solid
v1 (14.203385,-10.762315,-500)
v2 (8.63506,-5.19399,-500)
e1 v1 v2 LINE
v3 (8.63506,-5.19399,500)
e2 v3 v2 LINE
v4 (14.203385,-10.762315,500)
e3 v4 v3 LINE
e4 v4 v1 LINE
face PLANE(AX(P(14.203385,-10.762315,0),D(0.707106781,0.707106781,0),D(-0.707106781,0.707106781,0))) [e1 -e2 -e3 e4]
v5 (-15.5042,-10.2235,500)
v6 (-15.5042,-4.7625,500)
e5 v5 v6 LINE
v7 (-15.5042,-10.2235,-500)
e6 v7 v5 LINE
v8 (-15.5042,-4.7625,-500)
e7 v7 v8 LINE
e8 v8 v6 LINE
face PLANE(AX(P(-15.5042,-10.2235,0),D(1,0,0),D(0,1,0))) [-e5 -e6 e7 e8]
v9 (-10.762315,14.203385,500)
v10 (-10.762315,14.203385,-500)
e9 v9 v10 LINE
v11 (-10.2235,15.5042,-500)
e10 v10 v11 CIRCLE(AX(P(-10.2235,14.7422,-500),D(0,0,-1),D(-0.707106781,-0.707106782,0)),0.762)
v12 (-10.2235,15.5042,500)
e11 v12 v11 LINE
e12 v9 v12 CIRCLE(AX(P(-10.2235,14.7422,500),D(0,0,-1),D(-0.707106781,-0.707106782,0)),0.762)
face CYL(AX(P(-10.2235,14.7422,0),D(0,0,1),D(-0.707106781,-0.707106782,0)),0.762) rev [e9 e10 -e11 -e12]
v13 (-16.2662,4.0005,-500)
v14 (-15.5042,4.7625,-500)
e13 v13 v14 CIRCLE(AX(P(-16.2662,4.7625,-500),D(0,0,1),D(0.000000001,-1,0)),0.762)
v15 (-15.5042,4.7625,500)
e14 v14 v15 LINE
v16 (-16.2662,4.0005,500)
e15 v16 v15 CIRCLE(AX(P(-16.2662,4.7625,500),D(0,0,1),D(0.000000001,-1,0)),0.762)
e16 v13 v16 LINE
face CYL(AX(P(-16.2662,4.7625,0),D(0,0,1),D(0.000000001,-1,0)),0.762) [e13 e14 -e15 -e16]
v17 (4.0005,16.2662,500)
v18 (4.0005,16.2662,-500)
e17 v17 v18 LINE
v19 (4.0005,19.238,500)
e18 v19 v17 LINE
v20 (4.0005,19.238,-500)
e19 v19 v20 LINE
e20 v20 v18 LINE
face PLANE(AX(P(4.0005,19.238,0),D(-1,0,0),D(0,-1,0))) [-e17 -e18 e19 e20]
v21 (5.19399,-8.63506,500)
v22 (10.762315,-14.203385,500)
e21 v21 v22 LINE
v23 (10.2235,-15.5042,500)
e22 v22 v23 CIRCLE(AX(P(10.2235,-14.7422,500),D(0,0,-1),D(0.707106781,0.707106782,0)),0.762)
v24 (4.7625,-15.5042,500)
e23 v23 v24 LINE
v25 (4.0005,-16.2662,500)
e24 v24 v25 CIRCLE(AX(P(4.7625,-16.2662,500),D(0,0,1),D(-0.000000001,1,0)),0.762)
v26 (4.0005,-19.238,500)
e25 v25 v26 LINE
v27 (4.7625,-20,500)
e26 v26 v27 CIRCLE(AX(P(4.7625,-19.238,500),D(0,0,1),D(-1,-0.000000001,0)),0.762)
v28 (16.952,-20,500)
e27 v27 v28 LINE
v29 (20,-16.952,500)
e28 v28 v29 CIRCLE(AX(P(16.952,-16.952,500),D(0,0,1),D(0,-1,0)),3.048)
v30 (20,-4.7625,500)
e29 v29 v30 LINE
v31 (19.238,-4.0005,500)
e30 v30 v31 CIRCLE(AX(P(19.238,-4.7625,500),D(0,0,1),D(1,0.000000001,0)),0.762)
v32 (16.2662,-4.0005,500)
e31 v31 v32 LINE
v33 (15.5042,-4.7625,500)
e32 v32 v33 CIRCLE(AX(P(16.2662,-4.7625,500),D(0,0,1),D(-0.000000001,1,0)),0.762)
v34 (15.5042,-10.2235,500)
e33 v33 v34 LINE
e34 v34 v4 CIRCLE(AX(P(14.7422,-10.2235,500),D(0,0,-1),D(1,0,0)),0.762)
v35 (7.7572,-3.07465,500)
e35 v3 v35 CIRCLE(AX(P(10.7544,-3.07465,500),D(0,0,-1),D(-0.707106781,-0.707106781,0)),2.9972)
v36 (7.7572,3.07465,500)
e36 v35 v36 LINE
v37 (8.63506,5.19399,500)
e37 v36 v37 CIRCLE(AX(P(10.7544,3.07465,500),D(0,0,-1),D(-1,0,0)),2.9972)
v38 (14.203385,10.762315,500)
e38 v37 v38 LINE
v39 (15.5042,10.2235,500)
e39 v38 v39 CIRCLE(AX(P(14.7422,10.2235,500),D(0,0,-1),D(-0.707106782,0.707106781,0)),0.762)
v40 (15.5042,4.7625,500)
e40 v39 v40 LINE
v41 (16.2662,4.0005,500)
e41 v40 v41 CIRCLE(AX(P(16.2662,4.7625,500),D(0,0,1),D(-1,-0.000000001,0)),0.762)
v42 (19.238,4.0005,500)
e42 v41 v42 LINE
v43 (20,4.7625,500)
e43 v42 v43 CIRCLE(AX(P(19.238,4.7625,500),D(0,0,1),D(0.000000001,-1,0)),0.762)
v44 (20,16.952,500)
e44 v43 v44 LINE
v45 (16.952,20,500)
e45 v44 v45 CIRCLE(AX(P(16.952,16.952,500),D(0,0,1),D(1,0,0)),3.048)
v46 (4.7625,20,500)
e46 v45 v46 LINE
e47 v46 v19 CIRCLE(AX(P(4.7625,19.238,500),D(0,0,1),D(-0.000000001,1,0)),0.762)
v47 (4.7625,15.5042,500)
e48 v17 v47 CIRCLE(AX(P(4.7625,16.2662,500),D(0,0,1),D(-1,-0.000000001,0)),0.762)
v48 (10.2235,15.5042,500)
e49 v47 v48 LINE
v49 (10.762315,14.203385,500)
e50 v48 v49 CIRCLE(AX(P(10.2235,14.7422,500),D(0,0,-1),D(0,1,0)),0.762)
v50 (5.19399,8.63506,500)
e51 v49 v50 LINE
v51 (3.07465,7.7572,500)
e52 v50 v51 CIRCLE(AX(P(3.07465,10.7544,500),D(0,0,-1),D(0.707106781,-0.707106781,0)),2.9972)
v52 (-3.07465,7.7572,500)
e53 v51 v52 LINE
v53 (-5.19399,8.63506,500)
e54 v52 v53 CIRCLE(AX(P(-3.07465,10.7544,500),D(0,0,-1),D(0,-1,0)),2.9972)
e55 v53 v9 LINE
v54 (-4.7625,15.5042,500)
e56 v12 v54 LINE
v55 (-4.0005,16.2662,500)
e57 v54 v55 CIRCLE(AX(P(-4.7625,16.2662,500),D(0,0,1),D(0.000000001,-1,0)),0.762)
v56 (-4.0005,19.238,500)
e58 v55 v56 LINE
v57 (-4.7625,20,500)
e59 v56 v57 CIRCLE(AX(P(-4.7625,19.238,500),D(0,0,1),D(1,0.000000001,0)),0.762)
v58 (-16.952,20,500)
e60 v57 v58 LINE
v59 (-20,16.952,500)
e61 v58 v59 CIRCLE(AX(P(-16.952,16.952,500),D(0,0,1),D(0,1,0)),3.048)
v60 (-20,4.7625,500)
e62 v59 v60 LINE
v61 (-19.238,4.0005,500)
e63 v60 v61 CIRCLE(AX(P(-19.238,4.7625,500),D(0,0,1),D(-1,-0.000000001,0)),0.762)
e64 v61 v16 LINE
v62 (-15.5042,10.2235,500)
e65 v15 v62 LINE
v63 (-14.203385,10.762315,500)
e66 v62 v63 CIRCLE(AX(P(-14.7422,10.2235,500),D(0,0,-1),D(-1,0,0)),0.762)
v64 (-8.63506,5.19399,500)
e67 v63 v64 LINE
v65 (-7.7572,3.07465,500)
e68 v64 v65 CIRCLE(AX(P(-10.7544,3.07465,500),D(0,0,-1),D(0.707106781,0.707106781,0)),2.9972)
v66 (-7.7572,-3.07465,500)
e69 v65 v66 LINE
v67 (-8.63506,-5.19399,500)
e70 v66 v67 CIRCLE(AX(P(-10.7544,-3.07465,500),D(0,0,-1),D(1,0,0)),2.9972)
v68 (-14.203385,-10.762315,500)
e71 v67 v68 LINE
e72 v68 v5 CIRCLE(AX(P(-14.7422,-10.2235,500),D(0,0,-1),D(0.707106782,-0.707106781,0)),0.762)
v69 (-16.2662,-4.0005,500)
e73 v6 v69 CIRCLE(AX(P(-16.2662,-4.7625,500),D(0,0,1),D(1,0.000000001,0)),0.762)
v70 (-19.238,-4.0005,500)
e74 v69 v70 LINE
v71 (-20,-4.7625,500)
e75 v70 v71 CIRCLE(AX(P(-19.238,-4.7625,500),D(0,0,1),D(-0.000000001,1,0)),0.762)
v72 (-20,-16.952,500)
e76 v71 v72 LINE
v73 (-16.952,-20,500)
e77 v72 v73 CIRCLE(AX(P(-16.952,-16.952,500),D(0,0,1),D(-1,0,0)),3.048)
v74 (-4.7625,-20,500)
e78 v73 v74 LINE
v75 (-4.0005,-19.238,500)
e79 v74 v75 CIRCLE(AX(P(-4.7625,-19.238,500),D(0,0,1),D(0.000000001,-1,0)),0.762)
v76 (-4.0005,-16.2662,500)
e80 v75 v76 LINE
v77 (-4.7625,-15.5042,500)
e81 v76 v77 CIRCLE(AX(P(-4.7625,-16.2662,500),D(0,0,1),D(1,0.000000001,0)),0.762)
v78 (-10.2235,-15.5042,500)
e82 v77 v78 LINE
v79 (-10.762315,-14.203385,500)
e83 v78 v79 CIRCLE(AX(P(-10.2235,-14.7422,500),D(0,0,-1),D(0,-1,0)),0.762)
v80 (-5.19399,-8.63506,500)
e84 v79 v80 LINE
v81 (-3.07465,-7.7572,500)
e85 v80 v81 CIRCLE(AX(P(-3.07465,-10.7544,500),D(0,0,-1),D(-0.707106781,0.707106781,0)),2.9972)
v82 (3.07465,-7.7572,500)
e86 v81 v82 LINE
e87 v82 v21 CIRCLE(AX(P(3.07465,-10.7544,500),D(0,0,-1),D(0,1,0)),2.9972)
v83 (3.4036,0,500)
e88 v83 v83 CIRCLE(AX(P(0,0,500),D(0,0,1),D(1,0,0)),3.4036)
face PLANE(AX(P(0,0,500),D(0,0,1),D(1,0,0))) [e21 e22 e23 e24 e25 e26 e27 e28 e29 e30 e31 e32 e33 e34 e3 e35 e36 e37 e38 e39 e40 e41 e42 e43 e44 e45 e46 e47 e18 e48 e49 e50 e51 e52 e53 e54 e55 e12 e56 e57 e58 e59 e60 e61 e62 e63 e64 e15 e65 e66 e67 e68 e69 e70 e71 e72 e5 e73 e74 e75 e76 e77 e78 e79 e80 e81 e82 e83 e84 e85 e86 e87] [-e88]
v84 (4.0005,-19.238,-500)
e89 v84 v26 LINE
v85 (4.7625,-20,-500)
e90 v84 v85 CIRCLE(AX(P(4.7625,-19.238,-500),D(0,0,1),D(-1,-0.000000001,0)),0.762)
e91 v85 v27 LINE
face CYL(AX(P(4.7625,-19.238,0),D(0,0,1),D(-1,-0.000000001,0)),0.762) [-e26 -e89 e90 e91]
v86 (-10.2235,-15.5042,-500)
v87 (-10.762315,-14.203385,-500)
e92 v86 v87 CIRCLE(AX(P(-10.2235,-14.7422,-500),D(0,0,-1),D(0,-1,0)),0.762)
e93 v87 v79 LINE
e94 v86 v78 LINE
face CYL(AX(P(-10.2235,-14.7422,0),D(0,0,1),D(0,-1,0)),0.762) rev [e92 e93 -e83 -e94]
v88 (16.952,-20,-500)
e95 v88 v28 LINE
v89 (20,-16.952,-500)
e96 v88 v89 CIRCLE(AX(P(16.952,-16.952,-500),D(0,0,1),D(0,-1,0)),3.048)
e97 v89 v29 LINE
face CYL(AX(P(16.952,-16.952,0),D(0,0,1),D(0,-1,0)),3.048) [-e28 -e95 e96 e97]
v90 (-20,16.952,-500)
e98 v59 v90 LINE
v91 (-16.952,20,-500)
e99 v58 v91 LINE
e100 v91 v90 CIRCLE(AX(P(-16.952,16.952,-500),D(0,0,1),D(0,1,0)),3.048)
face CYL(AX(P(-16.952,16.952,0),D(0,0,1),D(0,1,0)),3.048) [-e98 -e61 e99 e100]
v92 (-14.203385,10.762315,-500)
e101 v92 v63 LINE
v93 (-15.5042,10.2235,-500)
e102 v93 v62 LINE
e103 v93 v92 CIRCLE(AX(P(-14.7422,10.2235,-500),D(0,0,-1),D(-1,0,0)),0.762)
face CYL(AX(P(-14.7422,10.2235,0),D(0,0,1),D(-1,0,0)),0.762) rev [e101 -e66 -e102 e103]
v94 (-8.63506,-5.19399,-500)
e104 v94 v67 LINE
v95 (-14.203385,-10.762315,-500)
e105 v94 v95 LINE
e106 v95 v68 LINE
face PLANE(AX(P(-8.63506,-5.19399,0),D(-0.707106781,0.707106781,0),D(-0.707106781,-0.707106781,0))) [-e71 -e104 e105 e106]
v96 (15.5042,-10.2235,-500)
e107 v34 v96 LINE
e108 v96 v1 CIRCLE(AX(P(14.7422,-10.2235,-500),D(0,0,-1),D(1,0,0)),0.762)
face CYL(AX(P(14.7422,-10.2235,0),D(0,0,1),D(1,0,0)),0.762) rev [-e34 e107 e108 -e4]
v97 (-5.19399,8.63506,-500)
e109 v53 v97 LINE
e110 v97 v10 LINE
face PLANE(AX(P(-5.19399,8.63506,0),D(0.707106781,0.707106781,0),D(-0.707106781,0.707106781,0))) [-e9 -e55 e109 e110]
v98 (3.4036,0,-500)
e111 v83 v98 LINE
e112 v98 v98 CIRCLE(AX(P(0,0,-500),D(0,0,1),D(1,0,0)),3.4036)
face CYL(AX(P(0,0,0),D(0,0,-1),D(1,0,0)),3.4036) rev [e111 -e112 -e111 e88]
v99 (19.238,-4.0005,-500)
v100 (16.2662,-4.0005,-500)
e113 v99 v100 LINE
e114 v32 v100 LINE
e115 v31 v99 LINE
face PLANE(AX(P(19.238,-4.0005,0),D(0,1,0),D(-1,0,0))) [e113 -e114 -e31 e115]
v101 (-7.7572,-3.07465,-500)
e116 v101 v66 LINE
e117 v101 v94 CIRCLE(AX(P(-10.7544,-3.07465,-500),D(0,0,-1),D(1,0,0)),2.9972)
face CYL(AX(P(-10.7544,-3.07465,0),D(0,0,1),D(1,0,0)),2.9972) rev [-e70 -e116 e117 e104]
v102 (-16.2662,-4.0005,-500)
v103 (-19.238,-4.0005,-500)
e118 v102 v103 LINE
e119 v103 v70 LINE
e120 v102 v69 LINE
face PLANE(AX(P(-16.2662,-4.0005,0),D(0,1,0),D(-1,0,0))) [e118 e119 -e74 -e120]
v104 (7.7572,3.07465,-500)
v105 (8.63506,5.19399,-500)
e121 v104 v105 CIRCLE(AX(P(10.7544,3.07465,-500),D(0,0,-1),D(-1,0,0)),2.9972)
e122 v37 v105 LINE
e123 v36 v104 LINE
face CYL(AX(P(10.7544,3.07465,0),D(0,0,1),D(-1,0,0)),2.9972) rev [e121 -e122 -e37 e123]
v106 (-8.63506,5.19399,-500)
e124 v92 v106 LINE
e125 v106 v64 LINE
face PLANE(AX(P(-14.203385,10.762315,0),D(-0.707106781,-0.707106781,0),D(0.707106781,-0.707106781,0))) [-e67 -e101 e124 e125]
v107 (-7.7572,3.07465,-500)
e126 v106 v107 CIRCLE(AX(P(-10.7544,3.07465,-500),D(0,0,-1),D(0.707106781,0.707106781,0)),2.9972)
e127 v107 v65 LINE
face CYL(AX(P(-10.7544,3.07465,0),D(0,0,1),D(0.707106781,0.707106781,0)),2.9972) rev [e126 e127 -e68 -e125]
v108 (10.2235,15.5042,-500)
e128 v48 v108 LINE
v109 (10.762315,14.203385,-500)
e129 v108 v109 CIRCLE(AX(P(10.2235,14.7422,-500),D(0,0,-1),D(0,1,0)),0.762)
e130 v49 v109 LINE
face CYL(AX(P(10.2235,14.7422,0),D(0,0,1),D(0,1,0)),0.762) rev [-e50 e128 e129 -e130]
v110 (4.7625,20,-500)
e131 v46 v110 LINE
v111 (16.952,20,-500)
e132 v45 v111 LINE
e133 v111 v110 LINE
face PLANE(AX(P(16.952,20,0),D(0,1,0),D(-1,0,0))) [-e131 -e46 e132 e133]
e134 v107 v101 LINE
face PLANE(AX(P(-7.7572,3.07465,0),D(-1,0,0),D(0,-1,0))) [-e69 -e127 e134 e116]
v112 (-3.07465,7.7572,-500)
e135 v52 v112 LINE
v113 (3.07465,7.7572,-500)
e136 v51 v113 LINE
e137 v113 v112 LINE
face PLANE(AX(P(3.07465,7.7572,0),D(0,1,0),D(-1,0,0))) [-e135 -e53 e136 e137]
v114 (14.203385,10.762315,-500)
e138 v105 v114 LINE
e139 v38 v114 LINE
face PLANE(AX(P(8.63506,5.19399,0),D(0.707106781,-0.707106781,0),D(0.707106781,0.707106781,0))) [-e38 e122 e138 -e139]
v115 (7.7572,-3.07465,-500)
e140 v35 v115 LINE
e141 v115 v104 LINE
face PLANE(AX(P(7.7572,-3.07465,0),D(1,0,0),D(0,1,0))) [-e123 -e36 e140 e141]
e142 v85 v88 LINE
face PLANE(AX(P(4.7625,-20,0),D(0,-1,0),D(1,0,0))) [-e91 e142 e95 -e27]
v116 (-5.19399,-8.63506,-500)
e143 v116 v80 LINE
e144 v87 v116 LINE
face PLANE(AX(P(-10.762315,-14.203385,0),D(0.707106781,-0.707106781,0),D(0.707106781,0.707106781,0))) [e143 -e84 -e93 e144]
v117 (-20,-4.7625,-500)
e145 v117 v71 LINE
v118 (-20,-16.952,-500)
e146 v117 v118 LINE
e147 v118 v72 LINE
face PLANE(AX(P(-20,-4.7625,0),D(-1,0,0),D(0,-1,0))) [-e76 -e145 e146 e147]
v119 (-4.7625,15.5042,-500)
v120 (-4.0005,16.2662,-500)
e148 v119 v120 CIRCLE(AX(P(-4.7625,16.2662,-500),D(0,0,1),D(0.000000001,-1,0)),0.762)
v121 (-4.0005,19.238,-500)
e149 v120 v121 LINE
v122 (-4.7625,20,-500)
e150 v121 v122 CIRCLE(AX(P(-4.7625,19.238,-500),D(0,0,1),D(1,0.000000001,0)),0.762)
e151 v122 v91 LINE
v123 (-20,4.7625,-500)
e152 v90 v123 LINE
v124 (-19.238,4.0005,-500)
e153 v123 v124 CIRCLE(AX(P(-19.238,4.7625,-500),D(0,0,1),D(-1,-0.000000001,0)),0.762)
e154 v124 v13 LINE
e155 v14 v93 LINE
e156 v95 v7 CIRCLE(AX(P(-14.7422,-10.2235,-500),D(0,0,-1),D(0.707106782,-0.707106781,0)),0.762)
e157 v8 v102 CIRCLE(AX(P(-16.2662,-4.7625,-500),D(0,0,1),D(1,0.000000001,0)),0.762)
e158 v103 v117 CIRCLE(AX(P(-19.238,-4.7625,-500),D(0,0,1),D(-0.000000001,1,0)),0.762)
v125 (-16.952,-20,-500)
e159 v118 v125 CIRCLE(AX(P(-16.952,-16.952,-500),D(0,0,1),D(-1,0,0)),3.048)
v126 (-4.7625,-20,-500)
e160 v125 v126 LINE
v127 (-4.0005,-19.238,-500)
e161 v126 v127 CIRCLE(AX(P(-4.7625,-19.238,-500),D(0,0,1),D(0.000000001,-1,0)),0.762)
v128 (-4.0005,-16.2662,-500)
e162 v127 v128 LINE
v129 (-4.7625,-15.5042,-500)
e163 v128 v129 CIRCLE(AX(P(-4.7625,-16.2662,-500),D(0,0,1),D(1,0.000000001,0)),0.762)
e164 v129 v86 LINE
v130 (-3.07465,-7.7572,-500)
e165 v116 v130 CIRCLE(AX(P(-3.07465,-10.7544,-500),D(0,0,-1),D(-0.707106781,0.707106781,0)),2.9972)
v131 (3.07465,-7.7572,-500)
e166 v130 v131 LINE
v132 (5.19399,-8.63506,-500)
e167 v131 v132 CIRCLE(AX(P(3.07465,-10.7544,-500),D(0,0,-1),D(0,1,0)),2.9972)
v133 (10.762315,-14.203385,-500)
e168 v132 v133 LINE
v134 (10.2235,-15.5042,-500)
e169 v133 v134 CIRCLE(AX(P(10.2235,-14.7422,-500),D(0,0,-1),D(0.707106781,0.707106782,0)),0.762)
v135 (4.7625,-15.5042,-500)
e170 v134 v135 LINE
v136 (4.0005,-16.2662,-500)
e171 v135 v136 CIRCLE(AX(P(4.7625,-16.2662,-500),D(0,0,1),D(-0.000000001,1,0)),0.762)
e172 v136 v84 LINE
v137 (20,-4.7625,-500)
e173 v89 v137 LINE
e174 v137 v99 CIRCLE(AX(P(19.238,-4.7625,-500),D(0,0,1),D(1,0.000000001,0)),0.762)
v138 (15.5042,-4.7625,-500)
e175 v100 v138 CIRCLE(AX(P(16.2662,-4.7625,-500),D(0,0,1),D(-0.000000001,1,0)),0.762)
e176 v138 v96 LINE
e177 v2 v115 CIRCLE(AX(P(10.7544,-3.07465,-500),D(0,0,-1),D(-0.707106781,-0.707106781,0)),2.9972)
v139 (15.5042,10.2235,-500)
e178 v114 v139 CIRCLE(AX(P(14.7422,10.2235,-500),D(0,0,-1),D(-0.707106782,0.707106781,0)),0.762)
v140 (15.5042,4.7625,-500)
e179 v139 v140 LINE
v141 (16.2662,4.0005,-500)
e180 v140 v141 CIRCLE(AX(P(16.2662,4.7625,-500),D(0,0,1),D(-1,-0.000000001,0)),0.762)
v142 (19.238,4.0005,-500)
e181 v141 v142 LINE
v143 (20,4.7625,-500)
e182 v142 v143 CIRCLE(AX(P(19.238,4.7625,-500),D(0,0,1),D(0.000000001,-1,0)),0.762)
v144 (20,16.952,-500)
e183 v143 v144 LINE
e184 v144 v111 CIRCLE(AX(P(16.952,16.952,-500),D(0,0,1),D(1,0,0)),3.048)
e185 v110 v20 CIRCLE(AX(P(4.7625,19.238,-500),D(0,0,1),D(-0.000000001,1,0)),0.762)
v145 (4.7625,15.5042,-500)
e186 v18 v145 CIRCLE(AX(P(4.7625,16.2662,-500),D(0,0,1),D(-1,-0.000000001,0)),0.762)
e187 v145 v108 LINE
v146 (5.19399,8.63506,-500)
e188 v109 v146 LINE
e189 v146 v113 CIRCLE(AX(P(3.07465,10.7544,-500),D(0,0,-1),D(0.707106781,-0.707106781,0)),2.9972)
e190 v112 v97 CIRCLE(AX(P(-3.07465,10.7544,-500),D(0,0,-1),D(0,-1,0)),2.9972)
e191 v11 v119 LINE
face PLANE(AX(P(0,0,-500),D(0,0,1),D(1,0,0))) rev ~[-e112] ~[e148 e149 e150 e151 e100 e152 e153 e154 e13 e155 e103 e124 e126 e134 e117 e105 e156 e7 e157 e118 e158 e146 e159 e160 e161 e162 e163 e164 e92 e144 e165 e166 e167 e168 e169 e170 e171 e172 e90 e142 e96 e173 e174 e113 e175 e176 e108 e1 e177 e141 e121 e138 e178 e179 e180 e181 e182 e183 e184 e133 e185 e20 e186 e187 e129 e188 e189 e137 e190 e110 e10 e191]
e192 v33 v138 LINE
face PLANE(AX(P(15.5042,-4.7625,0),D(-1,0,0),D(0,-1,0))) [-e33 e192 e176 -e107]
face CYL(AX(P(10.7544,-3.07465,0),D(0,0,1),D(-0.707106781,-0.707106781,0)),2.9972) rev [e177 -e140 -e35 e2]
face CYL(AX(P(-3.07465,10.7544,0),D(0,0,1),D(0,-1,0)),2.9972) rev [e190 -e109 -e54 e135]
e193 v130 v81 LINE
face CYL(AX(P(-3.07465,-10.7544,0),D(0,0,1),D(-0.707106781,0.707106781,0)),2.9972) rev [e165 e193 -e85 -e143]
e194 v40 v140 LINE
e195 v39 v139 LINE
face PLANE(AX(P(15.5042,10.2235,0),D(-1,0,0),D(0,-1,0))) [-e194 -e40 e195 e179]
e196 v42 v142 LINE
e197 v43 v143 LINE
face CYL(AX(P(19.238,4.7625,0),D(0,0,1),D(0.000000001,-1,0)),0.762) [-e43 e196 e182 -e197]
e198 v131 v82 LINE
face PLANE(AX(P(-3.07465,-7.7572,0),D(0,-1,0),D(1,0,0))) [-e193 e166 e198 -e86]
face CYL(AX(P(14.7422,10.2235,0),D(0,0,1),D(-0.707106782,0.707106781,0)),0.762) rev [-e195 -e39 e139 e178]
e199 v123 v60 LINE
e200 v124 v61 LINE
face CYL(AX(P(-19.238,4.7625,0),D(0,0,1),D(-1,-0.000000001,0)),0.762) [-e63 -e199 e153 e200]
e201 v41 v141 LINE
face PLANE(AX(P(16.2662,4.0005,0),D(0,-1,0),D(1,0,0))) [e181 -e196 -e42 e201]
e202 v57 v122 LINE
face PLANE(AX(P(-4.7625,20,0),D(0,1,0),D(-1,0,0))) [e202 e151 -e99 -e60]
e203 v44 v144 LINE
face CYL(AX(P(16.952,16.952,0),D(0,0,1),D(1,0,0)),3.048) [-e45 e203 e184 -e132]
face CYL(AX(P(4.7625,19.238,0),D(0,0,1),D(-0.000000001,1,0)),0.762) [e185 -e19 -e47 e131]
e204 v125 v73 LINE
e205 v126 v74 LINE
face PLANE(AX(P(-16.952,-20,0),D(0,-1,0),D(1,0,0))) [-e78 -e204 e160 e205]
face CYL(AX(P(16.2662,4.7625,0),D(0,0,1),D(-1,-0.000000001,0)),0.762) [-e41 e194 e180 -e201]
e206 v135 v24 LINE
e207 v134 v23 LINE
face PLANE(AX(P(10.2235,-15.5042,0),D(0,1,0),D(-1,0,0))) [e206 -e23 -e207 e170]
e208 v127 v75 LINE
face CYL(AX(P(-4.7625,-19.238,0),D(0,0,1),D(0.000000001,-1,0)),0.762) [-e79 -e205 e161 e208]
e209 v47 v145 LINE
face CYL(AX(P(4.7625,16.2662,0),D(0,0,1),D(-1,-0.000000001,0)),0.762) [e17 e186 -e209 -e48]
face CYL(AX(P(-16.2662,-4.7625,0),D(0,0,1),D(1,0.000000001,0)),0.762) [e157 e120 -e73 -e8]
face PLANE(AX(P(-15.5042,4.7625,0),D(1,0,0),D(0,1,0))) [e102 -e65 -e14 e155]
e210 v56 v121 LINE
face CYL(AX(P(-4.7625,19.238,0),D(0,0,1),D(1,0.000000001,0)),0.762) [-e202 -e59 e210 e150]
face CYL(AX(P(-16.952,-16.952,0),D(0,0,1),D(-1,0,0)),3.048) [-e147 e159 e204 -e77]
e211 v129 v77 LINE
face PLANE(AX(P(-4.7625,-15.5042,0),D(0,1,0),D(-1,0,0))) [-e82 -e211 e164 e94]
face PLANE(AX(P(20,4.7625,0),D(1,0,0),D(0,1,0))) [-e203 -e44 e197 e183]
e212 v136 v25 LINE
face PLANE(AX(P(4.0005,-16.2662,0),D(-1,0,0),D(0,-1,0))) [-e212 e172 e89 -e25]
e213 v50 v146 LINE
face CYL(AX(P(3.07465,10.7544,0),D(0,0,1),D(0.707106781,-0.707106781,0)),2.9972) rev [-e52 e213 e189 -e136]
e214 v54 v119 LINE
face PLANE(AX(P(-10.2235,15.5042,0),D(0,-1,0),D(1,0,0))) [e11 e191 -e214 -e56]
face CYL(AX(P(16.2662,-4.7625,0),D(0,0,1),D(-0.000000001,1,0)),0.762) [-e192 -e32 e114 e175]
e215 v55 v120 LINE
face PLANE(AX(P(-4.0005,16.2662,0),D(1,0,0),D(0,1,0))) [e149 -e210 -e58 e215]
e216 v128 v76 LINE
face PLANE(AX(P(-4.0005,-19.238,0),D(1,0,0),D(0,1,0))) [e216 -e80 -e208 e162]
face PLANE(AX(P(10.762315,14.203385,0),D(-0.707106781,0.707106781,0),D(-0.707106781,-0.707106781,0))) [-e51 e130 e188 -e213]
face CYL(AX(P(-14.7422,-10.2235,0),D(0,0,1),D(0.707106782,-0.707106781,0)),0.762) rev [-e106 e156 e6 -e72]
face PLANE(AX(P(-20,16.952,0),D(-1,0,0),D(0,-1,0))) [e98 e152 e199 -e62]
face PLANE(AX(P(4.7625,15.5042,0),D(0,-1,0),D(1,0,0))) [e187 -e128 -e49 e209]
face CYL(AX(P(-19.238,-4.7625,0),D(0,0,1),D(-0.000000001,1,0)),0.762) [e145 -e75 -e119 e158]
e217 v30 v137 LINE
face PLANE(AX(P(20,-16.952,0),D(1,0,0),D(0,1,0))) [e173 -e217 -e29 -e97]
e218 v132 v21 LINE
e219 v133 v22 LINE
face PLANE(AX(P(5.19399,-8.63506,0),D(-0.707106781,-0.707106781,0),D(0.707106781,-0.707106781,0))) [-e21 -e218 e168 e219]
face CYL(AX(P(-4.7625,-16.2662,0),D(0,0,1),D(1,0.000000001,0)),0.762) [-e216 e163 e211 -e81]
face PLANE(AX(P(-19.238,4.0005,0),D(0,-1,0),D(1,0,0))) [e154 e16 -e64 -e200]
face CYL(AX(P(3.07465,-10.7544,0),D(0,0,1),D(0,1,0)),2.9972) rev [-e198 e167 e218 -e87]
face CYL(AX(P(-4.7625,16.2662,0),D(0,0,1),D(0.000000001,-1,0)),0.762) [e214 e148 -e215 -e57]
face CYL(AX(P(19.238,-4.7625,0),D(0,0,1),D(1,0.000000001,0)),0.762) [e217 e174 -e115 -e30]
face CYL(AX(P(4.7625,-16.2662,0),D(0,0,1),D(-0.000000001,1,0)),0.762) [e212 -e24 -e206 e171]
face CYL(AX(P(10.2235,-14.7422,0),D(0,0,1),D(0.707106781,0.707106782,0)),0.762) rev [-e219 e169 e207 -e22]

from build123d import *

# Parameters (mm, degrees)
SKETCH1_R           = 3.4036
BOSS_EXTRUDE1_DEPTH = 500


with BuildPart() as part:
    # Sketch1 → Boss-Extrude1 (new body, symmetric)
    with BuildSketch(Plane.XY):
        with BuildLine():
            Line((-20, 16.952), (-20, 4.7625))
            ThreePointArc((-20, 4.7625), (-19.776815367, 4.223684633), (-19.238, 4.0005))
            Line((-19.238, 4.0005), (-16.2662, 4.0005))
            ThreePointArc((-16.2662, 4.0005), (-15.727384633, 4.223684633), (-15.5042, 4.7625))
            Line((-15.5042, 4.7625), (-15.5042, 10.2235))
            ThreePointArc((-15.5042, 10.2235), (-15.033804775, 10.927496204), (-14.203384633, 10.762315367))
            Line((-14.203384633, 10.762315367), (-8.635059555, 5.19399029))
            ThreePointArc((-8.635059555, 5.19399029), (-7.985348265, 4.221628629), (-7.7572, 3.074649845))
            Line((-7.7572, 3.074649845), (-7.7572, -3.074649845))
            ThreePointArc((-7.7572, -3.074649845), (-7.985348265, -4.221628629), (-8.635059555, -5.19399029))
            Line((-8.635059555, -5.19399029), (-14.203384633, -10.762315367))
            ThreePointArc((-14.203384633, -10.762315367), (-15.033804775, -10.927496204), (-15.5042, -10.2235))
            Line((-15.5042, -10.2235), (-15.5042, -4.7625))
            ThreePointArc((-15.5042, -4.7625), (-15.727384633, -4.223684633), (-16.2662, -4.0005))
            Line((-16.2662, -4.0005), (-19.238, -4.0005))
            ThreePointArc((-19.238, -4.0005), (-19.776815367, -4.223684633), (-20, -4.7625))
            Line((-20, -4.7625), (-20, -16.952))
            ThreePointArc((-20, -16.952), (-19.107261469, -19.107261469), (-16.952, -20))
            Line((-16.952, -20), (-4.7625, -20))
            ThreePointArc((-4.7625, -20), (-4.223684633, -19.776815367), (-4.0005, -19.238))
            Line((-4.0005, -19.238), (-4.0005, -16.2662))
            ThreePointArc((-4.0005, -16.2662), (-4.223684633, -15.727384633), (-4.7625, -15.5042))
            Line((-4.7625, -15.5042), (-10.2235, -15.5042))
            ThreePointArc((-10.2235, -15.5042), (-10.927496204, -15.033804775), (-10.762315367, -14.203384633))
            Line((-10.762315367, -14.203384633), (-5.19399029, -8.635059555))
            ThreePointArc((-5.19399029, -8.635059555), (-4.221628629, -7.985348265), (-3.074649845, -7.7572))
            Line((-3.074649845, -7.7572), (3.074649845, -7.7572))
            ThreePointArc((3.074649845, -7.7572), (4.221628629, -7.985348265), (5.19399029, -8.635059555))
            Line((5.19399029, -8.635059555), (10.762315367, -14.203384633))
            ThreePointArc((10.762315367, -14.203384633), (10.927496204, -15.033804775), (10.2235, -15.5042))
            Line((10.2235, -15.5042), (4.7625, -15.5042))
            ThreePointArc((4.7625, -15.5042), (4.223684633, -15.727384633), (4.0005, -16.2662))
            Line((4.0005, -16.2662), (4.0005, -19.238))
            ThreePointArc((4.0005, -19.238), (4.223684633, -19.776815367), (4.7625, -20))
            Line((4.7625, -20), (16.952, -20))
            ThreePointArc((16.952, -20), (19.107261469, -19.107261469), (20, -16.952))
            Line((20, -16.952), (20, -4.7625))
            ThreePointArc((20, -4.7625), (19.776815367, -4.223684633), (19.238, -4.0005))
            Line((19.238, -4.0005), (16.2662, -4.0005))
            ThreePointArc((16.2662, -4.0005), (15.727384633, -4.223684633), (15.5042, -4.7625))
            Line((15.5042, -4.7625), (15.5042, -10.2235))
            ThreePointArc((15.5042, -10.2235), (15.033804775, -10.927496204), (14.203384633, -10.762315367))
            Line((14.203384633, -10.762315367), (8.635059555, -5.19399029))
            ThreePointArc((8.635059555, -5.19399029), (7.985348265, -4.221628629), (7.7572, -3.074649845))
            Line((7.7572, -3.074649845), (7.7572, 3.074649845))
            ThreePointArc((7.7572, 3.074649845), (7.985348265, 4.221628629), (8.635059555, 5.19399029))
            Line((8.635059555, 5.19399029), (14.203384633, 10.762315367))
            ThreePointArc((14.203384633, 10.762315367), (15.033804775, 10.927496204), (15.5042, 10.2235))
            Line((15.5042, 10.2235), (15.5042, 4.7625))
            ThreePointArc((15.5042, 4.7625), (15.727384633, 4.223684633), (16.2662, 4.0005))
            Line((16.2662, 4.0005), (19.238, 4.0005))
            ThreePointArc((19.238, 4.0005), (19.776815367, 4.223684633), (20, 4.7625))
            Line((20, 4.7625), (20, 16.952))
            ThreePointArc((20, 16.952), (19.107261469, 19.107261469), (16.952, 20))
            Line((16.952, 20), (4.7625, 20))
            ThreePointArc((4.7625, 20), (4.223684633, 19.776815367), (4.0005, 19.238))
            Line((4.0005, 19.238), (4.0005, 16.2662))
            ThreePointArc((4.0005, 16.2662), (4.223684633, 15.727384633), (4.7625, 15.5042))
            Line((4.7625, 15.5042), (10.2235, 15.5042))
            ThreePointArc((10.2235, 15.5042), (10.927496204, 15.033804775), (10.762315367, 14.203384633))
            Line((10.762315367, 14.203384633), (5.19399029, 8.635059555))
            ThreePointArc((5.19399029, 8.635059555), (4.221628629, 7.985348265), (3.074649845, 7.7572))
            Line((3.074649845, 7.7572), (-3.074649845, 7.7572))
            ThreePointArc((-3.074649845, 7.7572), (-4.221628629, 7.985348265), (-5.19399029, 8.635059555))
            Line((-5.19399029, 8.635059555), (-10.762315367, 14.203384633))
            ThreePointArc((-10.762315367, 14.203384633), (-10.927496204, 15.033804775), (-10.2235, 15.5042))
            Line((-10.2235, 15.5042), (-4.7625, 15.5042))
            ThreePointArc((-4.7625, 15.5042), (-4.223684633, 15.727384633), (-4.0005, 16.2662))
            Line((-4.0005, 16.2662), (-4.0005, 19.238))
            ThreePointArc((-4.0005, 19.238), (-4.223684633, 19.776815367), (-4.7625, 20))
            Line((-4.7625, 20), (-16.952, 20))
            ThreePointArc((-16.952, 20), (-19.107261469, 19.107261469), (-20, 16.952))
        make_face()
        Circle(SKETCH1_R, mode=Mode.SUBTRACT)
    extrude(amount=BOSS_EXTRUDE1_DEPTH, both=True)


solid = part.part
